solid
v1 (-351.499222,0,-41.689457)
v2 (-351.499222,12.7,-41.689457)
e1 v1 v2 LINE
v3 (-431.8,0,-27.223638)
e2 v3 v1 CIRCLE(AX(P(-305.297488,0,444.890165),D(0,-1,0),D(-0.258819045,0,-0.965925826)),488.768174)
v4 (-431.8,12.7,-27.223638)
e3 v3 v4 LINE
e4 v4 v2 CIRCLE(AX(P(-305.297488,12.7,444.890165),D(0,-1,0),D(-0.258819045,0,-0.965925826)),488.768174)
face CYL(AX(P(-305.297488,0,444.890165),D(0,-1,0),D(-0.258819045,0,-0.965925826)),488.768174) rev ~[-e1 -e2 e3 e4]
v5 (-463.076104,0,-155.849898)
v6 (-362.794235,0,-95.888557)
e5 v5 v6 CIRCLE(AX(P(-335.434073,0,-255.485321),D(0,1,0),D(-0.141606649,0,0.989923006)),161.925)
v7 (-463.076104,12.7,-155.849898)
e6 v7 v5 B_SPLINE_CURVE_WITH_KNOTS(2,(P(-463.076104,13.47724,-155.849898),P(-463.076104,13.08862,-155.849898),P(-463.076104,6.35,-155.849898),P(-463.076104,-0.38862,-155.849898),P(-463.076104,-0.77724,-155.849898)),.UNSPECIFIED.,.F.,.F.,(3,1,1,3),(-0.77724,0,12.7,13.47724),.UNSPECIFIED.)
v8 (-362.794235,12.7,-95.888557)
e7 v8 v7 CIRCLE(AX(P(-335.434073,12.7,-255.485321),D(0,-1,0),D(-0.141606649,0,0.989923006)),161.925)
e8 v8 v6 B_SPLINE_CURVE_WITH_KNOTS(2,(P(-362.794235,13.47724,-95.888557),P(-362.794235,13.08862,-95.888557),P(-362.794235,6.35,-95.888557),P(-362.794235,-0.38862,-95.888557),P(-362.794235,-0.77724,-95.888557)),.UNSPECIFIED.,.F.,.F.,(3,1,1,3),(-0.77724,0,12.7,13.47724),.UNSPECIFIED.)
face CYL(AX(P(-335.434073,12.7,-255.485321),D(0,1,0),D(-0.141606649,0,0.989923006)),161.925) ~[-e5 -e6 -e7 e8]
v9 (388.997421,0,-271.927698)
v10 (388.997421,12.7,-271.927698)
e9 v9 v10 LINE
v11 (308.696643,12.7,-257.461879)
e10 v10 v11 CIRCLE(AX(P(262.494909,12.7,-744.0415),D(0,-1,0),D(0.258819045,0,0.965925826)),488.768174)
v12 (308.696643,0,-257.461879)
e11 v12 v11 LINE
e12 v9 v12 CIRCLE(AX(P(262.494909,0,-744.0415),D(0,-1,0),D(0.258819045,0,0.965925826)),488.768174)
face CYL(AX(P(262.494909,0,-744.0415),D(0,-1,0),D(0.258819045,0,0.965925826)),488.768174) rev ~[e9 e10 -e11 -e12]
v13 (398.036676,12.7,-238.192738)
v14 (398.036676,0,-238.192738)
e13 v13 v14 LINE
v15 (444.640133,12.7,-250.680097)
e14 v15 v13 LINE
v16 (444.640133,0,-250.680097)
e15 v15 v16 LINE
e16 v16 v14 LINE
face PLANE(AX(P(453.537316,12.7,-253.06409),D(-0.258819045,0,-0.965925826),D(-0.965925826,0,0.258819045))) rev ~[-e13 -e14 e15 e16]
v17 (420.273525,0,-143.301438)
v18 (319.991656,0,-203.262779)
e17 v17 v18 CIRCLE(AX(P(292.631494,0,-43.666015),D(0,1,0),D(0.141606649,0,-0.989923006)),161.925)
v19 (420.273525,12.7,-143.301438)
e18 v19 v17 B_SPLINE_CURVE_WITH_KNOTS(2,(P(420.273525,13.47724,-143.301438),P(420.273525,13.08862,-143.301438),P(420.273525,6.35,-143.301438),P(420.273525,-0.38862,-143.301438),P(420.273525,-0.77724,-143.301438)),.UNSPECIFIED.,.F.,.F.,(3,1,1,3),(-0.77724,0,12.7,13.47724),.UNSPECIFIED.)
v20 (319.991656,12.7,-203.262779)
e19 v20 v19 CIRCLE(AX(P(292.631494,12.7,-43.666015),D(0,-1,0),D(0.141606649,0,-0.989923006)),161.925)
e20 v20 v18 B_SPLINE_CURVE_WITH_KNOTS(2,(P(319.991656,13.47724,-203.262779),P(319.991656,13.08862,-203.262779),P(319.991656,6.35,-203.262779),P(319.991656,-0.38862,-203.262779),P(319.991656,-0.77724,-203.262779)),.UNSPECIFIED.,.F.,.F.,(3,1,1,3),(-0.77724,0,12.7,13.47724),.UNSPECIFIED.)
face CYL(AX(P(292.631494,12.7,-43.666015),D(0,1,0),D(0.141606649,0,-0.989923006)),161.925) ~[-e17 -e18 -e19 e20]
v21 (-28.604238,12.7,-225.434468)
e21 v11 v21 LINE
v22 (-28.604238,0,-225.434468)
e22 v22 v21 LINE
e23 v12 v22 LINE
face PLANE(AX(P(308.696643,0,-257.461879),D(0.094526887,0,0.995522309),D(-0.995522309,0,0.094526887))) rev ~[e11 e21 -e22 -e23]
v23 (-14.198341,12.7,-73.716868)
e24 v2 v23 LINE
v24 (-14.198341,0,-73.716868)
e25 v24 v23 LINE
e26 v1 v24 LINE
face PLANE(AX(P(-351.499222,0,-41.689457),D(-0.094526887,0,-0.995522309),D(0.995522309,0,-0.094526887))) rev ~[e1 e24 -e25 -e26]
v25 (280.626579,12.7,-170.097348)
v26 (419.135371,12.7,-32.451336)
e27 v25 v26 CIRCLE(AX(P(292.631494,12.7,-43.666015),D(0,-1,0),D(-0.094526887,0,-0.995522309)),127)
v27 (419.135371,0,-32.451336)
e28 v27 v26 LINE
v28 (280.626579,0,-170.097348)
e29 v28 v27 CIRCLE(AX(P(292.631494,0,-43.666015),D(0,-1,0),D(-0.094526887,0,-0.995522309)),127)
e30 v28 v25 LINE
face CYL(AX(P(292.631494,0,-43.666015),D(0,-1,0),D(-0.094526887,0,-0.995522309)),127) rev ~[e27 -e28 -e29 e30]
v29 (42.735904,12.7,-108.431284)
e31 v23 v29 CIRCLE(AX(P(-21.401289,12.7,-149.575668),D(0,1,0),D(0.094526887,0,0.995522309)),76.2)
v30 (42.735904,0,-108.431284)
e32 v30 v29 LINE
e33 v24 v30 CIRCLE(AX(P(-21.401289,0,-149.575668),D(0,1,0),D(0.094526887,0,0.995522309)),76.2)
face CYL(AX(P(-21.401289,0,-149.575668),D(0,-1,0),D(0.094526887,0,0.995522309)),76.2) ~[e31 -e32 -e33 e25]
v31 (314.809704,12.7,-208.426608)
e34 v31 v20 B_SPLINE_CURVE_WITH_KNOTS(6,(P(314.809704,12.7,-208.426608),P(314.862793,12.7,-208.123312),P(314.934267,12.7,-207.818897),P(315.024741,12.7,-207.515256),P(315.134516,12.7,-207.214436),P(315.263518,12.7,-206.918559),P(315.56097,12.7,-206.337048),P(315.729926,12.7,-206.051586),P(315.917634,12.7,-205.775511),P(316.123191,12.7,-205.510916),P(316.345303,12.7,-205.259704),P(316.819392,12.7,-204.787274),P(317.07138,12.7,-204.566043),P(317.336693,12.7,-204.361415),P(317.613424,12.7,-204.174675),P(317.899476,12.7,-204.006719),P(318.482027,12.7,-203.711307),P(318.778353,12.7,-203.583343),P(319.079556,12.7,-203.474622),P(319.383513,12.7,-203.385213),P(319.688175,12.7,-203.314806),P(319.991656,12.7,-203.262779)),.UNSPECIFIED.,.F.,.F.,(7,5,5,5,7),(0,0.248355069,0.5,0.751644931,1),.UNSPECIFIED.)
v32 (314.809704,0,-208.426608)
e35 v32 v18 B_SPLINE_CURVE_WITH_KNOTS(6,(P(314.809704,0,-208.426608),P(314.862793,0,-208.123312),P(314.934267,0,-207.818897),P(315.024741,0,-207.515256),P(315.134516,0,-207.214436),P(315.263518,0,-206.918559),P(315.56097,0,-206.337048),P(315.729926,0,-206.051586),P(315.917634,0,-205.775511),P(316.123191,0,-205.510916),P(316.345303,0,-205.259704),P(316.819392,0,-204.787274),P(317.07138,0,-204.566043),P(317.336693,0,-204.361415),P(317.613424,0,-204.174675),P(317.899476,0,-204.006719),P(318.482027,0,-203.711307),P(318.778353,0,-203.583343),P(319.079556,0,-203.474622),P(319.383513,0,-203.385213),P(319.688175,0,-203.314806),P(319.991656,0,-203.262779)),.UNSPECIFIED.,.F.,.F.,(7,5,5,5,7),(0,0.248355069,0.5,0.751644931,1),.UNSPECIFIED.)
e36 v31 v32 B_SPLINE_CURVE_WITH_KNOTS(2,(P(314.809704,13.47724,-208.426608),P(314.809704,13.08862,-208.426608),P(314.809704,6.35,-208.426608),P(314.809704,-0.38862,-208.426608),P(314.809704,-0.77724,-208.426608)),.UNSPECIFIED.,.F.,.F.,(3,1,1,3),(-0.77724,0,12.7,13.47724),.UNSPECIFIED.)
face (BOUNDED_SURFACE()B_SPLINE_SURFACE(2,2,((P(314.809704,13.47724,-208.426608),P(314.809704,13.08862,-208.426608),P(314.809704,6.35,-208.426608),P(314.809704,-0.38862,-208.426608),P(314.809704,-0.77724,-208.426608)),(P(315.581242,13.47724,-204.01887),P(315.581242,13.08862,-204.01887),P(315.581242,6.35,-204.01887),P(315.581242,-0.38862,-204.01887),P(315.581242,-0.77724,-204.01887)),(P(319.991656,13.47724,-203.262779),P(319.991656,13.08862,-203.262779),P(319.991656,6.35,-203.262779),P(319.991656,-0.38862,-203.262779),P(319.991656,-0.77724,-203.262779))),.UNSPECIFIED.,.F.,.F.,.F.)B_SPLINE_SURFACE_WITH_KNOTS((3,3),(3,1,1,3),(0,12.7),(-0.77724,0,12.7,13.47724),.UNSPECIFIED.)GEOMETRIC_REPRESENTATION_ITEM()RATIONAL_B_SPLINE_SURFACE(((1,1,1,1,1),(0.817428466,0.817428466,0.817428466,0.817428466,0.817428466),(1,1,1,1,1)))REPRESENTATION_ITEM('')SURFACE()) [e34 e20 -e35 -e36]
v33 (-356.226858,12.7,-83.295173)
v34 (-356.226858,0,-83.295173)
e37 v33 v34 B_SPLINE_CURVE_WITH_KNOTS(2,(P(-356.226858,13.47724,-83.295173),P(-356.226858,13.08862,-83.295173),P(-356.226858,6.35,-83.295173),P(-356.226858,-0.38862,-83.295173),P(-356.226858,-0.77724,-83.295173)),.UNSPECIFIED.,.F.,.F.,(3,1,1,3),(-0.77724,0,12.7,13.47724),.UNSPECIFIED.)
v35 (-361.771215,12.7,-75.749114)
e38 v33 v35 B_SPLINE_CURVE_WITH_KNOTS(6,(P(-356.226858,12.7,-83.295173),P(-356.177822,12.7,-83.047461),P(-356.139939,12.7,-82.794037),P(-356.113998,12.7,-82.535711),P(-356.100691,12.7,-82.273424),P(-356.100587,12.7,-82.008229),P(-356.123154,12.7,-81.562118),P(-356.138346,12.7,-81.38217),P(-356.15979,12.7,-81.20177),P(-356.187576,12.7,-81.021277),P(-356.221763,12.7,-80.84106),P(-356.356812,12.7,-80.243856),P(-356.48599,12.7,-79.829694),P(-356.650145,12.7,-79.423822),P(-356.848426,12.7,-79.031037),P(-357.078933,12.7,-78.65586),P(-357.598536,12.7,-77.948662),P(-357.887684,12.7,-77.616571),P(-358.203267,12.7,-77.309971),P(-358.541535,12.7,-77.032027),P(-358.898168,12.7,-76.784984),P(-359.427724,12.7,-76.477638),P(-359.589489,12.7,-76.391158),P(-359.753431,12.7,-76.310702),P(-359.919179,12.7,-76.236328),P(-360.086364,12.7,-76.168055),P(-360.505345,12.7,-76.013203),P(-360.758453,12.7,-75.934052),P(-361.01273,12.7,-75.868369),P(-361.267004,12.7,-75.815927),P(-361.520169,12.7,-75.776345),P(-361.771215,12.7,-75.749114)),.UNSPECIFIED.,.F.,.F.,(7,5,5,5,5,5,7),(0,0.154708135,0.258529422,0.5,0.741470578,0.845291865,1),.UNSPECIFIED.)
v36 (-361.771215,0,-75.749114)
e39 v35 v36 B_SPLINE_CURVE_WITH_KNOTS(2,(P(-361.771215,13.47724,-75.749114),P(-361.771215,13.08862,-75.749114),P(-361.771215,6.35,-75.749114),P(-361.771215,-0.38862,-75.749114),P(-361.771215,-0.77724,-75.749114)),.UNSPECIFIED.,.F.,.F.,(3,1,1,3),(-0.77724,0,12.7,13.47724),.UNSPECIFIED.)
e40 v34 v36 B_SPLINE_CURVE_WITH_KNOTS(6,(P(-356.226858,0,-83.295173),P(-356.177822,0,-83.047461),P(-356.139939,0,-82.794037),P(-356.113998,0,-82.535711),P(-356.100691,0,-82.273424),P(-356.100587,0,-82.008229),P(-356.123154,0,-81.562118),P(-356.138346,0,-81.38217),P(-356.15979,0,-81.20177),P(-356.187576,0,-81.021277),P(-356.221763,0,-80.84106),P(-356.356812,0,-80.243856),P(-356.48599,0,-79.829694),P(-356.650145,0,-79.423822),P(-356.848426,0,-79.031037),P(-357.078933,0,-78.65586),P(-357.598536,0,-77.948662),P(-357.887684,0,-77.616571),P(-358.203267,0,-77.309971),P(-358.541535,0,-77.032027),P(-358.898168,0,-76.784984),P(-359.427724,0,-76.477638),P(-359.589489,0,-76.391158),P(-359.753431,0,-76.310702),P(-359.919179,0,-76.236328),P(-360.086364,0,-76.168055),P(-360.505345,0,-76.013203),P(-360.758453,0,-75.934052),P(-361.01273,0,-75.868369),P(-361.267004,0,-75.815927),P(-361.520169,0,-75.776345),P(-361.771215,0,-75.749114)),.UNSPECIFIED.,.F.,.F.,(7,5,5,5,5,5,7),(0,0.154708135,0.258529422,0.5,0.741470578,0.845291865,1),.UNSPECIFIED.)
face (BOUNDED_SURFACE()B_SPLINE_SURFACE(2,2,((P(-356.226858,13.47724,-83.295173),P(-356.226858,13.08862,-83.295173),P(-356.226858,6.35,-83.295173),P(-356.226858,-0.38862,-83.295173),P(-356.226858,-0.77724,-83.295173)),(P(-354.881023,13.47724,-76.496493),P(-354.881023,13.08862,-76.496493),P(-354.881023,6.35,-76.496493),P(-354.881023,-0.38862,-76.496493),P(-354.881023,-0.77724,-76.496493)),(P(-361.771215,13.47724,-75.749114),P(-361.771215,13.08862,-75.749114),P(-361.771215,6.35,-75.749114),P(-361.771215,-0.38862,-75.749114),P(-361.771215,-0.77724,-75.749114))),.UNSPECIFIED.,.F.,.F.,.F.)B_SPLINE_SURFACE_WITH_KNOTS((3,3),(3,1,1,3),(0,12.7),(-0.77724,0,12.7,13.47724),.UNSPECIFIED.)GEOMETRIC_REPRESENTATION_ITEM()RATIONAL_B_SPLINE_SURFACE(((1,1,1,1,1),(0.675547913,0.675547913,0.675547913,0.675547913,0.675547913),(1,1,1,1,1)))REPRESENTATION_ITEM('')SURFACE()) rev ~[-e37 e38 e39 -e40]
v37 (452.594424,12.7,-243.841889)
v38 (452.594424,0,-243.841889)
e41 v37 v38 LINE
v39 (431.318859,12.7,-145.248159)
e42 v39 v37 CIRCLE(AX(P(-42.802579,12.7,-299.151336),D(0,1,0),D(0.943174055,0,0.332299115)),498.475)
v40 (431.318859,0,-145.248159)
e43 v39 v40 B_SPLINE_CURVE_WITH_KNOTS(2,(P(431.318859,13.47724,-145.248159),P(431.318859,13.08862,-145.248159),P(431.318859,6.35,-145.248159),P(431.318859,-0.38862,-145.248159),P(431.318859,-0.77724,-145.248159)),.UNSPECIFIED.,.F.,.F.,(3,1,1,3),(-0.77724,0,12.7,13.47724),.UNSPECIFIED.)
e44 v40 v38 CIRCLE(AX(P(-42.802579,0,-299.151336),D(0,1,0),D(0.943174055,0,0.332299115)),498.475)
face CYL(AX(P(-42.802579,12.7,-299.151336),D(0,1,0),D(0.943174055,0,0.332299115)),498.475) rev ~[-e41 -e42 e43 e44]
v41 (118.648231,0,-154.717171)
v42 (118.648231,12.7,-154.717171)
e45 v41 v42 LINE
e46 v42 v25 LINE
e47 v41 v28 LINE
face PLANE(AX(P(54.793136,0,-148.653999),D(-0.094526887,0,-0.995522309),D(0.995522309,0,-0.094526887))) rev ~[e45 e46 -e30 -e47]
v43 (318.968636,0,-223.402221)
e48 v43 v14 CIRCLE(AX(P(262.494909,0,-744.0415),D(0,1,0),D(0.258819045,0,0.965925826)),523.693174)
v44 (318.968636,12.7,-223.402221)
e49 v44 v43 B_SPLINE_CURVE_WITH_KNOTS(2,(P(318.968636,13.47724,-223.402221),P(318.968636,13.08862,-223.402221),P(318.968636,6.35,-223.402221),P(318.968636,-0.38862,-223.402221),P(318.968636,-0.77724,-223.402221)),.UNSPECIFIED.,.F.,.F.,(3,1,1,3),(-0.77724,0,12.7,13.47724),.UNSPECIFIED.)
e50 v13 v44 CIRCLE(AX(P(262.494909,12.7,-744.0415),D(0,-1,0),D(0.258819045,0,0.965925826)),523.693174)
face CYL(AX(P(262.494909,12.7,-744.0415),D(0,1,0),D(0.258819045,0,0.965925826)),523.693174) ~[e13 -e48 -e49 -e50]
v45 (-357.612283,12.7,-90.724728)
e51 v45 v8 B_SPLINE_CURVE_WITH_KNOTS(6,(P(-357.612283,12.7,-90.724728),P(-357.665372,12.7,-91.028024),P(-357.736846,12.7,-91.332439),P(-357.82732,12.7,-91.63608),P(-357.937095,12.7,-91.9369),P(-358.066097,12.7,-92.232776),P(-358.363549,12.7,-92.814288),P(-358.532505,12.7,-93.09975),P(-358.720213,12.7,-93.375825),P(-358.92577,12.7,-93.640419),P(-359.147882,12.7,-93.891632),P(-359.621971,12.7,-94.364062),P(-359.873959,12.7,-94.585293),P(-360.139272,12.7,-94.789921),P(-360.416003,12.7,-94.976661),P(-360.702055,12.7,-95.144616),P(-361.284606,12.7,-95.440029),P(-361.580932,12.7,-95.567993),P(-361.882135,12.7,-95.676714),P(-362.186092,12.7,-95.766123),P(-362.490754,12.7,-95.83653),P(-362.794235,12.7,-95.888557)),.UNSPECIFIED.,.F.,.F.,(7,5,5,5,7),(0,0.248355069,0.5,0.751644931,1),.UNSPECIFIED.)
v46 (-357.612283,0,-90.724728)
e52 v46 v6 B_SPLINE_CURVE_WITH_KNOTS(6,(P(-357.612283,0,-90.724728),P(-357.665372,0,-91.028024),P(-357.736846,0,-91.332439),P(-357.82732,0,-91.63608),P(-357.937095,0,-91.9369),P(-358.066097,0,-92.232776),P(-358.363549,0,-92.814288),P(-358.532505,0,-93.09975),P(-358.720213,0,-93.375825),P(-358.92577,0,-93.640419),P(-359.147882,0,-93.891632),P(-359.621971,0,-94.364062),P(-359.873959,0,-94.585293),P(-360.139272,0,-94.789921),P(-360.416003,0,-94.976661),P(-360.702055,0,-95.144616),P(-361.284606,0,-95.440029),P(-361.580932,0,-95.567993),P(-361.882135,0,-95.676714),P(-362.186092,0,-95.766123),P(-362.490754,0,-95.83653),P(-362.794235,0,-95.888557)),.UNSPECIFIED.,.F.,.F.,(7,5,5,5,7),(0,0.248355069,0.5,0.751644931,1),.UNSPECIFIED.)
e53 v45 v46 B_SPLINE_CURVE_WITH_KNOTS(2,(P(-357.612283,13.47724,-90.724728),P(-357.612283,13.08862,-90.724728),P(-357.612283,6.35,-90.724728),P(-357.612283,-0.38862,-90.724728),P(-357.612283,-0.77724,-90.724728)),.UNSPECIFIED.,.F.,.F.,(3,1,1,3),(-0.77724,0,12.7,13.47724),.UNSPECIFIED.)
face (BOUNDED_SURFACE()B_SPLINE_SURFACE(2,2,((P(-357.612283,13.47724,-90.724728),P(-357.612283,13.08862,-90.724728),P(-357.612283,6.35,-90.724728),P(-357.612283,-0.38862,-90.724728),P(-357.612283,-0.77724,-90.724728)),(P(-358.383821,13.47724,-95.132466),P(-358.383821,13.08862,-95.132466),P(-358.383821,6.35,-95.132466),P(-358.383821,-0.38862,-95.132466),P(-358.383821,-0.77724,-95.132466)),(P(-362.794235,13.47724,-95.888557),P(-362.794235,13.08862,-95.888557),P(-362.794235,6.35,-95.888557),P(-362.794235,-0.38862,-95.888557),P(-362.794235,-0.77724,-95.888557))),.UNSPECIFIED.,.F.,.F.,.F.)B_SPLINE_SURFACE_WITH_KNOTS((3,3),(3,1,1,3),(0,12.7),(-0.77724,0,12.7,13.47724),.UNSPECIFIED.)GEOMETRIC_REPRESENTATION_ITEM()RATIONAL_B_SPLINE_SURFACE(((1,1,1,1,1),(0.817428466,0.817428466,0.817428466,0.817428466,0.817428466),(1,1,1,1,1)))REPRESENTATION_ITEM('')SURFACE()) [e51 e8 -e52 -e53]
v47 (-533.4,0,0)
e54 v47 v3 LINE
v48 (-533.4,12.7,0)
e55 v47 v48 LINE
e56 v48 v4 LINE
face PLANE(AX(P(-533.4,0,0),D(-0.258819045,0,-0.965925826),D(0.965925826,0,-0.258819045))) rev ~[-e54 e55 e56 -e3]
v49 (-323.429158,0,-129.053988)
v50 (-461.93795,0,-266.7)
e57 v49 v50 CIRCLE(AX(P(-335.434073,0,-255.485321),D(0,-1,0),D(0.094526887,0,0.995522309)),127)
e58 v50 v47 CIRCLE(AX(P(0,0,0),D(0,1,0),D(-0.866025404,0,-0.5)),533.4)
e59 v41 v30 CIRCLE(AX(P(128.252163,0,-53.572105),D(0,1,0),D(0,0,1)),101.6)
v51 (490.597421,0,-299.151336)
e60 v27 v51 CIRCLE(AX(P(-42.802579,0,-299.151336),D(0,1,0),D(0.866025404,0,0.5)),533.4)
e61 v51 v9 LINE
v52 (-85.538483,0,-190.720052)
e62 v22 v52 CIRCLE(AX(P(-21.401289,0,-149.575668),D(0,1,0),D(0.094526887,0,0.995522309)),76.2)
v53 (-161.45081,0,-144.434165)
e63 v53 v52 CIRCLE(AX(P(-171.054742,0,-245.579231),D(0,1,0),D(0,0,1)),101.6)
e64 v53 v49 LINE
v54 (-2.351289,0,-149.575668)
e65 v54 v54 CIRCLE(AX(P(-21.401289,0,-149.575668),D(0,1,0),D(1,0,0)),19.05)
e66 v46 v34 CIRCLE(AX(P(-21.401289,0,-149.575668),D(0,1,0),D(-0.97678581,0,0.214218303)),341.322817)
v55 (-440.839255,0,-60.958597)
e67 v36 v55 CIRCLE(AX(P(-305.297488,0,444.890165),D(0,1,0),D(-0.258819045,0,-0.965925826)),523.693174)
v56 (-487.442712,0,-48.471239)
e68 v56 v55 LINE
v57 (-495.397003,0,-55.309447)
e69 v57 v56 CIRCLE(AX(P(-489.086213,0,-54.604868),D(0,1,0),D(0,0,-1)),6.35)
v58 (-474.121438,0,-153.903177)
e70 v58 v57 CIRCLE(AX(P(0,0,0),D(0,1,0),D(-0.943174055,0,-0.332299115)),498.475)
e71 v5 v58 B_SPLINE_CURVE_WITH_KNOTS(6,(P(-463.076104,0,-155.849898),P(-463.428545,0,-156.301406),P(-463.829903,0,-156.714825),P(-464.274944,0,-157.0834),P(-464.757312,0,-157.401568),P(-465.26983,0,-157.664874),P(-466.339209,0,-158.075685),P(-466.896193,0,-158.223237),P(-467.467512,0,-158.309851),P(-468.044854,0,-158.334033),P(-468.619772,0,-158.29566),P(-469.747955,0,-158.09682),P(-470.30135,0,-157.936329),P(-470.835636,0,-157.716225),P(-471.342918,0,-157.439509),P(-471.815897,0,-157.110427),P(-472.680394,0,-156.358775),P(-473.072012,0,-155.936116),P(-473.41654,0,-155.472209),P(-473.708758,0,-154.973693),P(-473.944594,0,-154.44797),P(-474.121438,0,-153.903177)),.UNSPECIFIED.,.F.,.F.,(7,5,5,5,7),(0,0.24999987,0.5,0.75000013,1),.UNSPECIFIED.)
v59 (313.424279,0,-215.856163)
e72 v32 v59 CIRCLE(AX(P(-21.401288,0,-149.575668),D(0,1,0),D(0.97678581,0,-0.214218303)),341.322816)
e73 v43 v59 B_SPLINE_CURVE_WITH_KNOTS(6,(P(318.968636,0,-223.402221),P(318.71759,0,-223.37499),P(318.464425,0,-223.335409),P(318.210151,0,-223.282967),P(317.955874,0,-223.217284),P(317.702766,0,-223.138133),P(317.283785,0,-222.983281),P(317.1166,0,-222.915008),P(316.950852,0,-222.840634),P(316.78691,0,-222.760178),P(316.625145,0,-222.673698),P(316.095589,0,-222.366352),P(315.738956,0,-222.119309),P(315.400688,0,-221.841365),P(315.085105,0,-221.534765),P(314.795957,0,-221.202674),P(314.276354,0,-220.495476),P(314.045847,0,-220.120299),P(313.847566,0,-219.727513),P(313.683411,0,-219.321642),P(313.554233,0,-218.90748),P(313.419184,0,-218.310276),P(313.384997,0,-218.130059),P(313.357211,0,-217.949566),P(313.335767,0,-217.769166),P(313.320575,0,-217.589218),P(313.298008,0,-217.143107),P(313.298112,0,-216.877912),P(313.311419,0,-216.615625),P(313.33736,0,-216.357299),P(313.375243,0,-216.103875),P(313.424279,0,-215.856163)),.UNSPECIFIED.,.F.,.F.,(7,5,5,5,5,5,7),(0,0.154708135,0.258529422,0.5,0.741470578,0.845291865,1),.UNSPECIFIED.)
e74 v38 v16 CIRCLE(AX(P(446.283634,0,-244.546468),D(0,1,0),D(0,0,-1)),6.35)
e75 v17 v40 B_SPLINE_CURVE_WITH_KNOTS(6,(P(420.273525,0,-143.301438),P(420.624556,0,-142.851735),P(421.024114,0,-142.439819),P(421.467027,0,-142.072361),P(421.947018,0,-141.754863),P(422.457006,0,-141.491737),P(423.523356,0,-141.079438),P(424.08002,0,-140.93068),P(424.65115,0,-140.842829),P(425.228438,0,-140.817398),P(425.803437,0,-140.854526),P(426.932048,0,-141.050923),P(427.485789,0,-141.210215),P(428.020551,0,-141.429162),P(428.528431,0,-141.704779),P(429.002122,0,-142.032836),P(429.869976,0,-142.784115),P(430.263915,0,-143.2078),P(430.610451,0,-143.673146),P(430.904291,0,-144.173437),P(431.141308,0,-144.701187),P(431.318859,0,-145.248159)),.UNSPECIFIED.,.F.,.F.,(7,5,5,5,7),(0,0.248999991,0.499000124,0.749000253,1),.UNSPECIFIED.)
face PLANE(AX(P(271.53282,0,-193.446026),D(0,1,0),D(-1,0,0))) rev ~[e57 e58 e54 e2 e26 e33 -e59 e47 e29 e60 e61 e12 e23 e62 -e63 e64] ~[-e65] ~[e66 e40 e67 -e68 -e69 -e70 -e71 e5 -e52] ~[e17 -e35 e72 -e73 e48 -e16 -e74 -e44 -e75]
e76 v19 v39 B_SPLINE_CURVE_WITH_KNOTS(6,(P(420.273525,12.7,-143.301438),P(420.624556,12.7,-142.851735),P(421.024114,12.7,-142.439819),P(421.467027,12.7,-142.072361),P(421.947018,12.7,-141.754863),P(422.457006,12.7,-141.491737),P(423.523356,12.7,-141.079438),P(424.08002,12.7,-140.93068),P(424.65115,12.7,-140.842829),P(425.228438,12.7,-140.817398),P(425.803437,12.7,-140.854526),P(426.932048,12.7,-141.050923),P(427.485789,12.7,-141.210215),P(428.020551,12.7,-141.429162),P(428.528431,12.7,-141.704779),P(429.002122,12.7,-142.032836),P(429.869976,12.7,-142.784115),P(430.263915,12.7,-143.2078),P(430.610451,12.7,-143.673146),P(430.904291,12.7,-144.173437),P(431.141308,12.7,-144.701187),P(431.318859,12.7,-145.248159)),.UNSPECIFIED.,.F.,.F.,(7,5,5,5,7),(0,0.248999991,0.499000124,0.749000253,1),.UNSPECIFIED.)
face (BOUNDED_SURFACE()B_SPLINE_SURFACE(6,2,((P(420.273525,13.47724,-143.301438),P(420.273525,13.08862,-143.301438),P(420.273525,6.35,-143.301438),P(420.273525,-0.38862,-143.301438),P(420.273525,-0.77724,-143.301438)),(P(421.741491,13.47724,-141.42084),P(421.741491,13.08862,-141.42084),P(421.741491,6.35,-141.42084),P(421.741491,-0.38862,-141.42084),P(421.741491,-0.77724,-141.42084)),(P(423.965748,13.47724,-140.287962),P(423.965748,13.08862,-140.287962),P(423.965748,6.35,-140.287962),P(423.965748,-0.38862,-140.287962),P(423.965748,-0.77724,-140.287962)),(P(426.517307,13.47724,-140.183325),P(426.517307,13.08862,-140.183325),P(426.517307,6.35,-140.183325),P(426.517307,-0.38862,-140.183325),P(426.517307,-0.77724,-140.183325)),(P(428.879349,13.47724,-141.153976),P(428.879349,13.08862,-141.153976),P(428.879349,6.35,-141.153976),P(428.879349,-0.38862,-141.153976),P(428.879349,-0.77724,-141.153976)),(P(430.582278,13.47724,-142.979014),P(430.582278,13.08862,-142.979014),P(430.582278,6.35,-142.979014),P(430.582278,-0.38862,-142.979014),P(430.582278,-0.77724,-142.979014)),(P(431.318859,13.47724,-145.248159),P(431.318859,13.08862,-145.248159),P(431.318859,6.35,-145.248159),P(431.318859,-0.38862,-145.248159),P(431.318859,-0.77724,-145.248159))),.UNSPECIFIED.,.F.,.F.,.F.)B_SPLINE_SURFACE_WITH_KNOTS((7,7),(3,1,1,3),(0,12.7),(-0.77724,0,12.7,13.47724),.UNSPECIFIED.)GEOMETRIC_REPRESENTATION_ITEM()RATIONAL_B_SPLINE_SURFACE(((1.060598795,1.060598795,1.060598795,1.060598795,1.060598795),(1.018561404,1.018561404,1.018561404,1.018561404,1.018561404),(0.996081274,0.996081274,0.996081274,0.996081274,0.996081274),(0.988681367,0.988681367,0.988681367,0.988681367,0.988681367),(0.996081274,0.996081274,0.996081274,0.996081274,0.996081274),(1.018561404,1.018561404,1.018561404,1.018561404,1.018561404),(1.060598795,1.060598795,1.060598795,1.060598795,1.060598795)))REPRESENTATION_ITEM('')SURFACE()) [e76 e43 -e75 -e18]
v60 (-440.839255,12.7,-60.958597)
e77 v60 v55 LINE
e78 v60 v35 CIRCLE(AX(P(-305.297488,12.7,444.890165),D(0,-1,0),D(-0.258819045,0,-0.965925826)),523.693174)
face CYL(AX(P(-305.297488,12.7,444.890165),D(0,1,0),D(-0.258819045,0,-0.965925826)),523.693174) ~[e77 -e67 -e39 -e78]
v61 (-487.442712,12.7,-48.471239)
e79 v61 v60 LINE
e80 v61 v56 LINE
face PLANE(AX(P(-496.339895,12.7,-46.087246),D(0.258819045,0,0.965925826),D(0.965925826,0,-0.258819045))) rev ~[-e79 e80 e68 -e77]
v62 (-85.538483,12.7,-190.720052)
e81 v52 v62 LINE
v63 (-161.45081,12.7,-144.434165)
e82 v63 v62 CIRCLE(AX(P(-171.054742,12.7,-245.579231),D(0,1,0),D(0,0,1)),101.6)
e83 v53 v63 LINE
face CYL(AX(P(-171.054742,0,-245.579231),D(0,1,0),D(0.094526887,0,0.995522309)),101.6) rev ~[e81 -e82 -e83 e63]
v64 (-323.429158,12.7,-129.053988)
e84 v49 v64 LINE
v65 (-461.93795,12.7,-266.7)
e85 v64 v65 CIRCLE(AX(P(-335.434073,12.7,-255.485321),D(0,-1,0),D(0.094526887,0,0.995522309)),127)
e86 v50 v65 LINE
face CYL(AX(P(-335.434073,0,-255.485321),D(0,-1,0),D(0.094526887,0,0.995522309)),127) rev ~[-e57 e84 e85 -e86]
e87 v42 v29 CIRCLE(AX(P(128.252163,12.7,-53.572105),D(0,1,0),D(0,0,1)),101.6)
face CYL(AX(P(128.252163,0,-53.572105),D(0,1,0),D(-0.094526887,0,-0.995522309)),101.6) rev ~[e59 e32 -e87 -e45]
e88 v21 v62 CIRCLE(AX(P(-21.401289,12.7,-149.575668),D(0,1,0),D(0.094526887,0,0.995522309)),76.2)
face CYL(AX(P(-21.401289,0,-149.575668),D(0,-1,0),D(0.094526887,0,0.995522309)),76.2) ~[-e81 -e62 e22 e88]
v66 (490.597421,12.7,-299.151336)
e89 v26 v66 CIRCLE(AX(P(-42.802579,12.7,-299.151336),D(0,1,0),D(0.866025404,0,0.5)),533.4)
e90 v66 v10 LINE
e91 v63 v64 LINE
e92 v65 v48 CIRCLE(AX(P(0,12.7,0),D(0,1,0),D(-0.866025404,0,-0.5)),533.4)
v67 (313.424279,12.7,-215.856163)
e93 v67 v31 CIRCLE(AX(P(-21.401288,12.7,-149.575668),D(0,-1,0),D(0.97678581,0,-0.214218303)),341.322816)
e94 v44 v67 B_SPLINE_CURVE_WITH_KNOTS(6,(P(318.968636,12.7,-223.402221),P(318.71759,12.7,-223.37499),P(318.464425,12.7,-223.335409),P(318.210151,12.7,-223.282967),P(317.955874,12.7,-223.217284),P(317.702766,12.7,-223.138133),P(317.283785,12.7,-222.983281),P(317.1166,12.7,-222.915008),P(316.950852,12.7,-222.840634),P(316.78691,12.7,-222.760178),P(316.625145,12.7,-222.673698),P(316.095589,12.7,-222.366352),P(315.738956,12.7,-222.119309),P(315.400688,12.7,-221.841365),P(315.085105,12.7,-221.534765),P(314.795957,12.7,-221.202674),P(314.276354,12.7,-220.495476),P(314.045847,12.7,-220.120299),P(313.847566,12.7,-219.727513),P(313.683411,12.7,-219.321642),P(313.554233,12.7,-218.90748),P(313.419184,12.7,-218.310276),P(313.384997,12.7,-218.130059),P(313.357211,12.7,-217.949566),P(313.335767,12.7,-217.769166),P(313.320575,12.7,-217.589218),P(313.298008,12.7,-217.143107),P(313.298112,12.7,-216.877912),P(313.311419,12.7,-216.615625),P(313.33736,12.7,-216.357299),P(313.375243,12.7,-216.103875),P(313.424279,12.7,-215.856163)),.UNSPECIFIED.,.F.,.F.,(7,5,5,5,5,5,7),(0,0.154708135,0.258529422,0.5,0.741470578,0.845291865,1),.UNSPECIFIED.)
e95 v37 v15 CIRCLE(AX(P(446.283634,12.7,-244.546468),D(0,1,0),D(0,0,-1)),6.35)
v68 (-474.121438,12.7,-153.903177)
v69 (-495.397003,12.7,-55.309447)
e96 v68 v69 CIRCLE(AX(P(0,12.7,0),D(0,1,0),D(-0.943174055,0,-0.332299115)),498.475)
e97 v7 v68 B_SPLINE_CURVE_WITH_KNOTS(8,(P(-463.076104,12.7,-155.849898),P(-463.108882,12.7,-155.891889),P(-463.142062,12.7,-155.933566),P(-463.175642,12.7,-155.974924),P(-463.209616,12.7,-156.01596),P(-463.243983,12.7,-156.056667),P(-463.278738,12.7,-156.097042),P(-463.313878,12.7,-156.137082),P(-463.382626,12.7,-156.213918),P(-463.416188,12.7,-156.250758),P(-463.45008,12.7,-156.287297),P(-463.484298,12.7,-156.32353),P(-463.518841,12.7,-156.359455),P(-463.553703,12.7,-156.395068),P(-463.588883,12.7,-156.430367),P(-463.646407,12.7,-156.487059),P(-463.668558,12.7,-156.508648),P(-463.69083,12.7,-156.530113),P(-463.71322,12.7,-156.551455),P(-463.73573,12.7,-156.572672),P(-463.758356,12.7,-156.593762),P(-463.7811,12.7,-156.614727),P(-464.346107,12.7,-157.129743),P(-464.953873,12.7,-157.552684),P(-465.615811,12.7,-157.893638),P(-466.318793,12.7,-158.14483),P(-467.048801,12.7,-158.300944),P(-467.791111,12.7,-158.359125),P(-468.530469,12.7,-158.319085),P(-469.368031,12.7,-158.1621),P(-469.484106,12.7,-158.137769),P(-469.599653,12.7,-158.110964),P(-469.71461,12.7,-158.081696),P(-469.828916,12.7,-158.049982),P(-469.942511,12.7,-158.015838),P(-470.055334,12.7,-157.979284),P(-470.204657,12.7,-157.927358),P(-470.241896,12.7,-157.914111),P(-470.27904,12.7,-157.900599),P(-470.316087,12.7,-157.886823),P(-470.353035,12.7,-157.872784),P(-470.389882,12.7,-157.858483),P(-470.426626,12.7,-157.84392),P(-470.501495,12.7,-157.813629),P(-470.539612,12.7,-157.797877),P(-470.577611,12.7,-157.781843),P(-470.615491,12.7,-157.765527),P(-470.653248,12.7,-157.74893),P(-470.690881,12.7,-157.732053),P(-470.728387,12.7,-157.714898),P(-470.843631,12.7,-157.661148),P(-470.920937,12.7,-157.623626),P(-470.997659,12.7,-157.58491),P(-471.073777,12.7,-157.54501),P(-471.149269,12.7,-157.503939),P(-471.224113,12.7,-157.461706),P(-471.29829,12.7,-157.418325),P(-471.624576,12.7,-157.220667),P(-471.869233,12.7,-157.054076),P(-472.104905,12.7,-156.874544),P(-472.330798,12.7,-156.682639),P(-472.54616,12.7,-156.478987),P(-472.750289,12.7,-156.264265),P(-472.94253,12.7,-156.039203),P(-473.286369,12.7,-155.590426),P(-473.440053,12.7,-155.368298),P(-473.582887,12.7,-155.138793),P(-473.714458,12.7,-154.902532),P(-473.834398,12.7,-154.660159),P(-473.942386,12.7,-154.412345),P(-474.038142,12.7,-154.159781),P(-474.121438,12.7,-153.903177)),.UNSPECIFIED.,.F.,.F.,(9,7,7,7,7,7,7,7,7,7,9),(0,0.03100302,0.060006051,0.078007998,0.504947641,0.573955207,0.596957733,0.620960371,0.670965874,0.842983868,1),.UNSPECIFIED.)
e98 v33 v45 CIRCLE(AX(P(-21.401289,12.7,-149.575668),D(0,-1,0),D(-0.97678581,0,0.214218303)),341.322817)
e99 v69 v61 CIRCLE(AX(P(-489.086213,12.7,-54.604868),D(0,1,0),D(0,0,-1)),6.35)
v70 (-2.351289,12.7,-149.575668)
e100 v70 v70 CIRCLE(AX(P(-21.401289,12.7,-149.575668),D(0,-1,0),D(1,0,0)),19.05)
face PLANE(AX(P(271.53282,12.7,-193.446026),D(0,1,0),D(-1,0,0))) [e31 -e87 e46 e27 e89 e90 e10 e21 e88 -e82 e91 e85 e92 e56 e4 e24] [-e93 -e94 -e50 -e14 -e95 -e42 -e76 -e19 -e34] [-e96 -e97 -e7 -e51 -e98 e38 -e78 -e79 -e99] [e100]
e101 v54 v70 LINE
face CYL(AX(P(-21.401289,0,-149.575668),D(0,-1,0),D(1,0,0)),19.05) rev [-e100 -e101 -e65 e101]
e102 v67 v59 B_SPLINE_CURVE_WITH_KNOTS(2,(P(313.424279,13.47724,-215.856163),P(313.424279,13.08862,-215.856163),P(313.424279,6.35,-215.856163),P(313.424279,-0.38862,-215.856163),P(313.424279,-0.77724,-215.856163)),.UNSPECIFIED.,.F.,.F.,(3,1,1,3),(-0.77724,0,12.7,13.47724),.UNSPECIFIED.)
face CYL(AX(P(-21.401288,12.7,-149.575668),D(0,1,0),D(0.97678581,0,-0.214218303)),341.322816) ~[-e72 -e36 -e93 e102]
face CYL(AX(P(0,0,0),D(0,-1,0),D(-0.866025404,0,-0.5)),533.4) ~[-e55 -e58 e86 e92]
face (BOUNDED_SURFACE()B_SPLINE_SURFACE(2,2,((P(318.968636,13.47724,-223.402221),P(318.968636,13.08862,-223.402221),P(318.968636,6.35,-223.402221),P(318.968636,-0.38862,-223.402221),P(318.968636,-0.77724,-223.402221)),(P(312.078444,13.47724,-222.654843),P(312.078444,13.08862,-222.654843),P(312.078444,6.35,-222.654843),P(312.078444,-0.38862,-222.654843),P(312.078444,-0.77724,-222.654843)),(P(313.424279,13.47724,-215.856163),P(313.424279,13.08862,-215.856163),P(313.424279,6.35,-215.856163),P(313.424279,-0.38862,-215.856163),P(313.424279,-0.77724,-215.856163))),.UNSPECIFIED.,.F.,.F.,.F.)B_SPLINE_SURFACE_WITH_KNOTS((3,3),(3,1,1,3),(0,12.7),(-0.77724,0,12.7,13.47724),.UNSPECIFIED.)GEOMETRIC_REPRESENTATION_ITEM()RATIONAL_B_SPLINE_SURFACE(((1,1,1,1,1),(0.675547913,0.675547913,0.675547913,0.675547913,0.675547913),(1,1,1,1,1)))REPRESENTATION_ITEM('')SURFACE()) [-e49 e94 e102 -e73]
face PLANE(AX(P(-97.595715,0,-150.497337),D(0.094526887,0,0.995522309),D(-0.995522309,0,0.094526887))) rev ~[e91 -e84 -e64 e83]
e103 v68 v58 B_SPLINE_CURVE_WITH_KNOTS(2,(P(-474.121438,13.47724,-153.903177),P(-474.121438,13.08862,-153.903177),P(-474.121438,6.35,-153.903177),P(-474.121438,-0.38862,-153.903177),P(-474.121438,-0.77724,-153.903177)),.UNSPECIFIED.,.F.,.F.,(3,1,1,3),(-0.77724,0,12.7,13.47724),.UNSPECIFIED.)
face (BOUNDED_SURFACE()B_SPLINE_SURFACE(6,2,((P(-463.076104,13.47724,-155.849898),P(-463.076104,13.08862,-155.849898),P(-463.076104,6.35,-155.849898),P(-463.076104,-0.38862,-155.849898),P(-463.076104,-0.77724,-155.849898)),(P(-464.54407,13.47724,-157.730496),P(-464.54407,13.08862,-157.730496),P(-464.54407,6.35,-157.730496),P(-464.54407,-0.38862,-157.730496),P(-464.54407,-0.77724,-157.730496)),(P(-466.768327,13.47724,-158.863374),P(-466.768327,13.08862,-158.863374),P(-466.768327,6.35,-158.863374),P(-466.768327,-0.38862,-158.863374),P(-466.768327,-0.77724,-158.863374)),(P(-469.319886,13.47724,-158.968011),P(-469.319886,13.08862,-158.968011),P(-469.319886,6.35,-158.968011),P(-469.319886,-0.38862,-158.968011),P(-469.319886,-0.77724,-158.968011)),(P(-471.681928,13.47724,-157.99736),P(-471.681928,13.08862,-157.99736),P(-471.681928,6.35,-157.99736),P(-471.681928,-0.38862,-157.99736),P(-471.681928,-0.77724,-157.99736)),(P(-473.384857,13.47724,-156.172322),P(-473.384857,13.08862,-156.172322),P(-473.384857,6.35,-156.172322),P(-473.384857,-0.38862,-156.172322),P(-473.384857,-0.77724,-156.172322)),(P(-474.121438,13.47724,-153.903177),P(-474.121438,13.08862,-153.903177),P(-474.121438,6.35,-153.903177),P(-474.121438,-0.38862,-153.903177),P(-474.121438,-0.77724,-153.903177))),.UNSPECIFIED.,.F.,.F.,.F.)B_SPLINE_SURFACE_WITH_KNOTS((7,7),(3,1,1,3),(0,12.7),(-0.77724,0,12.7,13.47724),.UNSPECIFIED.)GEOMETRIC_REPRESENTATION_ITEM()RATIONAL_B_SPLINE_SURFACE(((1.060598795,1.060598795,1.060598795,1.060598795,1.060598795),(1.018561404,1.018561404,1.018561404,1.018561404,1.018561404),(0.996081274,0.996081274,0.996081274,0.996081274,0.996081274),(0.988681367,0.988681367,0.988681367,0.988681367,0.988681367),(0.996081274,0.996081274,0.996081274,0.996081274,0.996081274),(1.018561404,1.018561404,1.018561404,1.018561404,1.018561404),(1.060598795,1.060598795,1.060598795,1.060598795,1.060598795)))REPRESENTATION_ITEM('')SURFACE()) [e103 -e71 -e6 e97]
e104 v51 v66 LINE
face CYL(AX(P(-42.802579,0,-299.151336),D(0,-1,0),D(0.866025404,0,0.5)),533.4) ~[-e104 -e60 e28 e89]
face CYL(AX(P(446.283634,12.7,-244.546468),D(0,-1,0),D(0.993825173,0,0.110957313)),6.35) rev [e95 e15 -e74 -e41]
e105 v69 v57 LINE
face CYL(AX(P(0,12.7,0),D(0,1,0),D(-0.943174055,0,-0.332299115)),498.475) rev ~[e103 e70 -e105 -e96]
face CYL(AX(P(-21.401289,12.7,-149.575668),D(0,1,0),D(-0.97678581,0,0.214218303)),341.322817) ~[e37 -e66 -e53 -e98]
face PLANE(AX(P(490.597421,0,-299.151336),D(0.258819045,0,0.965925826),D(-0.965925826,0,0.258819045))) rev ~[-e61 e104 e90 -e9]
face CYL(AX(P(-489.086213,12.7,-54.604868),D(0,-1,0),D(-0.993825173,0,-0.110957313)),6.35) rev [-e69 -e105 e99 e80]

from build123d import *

# Parameters (mm, degrees)
SKETCH1_R           = 76.2
SKETCH1_R_2         = 19.05
BOSS_EXTRUDE1_DEPTH = 12.7
CIRPATTERN1_COUNT   = 2
FILLET1_R           = 101.6
CUT_EXTRUDE2_DEPTH  = 13.7
FILLET2_R           = 6.35


with BuildPart() as part:
    # Sketch1 → Boss-Extrude1 (new body)
    with BuildSketch(Plane(origin=(0, 0, 0), x_dir=(1, 0, 0), z_dir=(0, 1, 0))):
        with BuildLine():
            ThreePointArc((-461.937950379, 266.7), (-515.224835743, 138.054078658), (-533.4, 0))
            Line((-533.4, 0), (-431.8, 27.223637951))
            ThreePointArc((-431.8, 27.223637951), (-391.951998133, 36.135119544), (-351.499222019, 41.689456733))
            Line((-351.499222019, 41.689456733), (-14.198340678, 73.716868009))
            ThreePointArc((-14.198340678, 73.716868009), (-73.012974959, 93.516111014), (-97.595715318, 150.497336919))
            Line((-97.595715318, 150.497336919), (-323.429158368, 129.053987789))
            ThreePointArc((-323.429158368, 129.053987789), (-424.955630689, 165.402632783), (-461.937950379, 266.7))
        make_face()
        with Locations((-21.401289496, 149.575667949)):
            Circle(SKETCH1_R)
        with Locations((-21.401289496, 149.575667949)):
            Circle(SKETCH1_R_2, mode=Mode.SUBTRACT)
    boss_extrude1 = extrude(amount=BOSS_EXTRUDE1_DEPTH)

    # CirPattern1: Boss-Extrude1 ×2 about axis
    cirpattern1_axis = Axis((-21.401289496, 0, -149.575667949), (0, 1, 0))
    for i in range(1, CIRPATTERN1_COUNT):
        add(boss_extrude1.rotate(cirpattern1_axis, i * 360 / CIRPATTERN1_COUNT))

    # Fillet1
    fillet1_edges = [part.edges().sort_by_distance(p)[0] for p in [
        (-97.595715318, 6.35, -150.497336919),
        (54.793136326, 6.35, -148.653998979),
    ]]
    fillet(fillet1_edges, radius=FILLET1_R)

    # Sketch3 → Cut-Extrude2 (cut, through all)
    with BuildSketch(Plane(origin=(0, 12.7, 0), x_dir=(1, 0, 0), z_dir=(0, 1, 0))):
        with BuildLine():
            ThreePointArc((-354.80057356, 76.458073372), (-356.713011165, 85.800166676), (-358.363729661, 95.192038339))
            ThreePointArc((-358.363729661, 95.192038339), (-421.769213749, 118.496456117), (-470.148687166, 165.642801175))
            ThreePointArc((-470.148687166, 165.642801175), (-486.927538331, 106.671917768), (-496.339895031, 46.087245799))
            Line((-496.339895031, 46.087245799), (-440.83925515, 60.958597434))
            ThreePointArc((-440.83925515, 60.958597434), (-398.143908594, 70.506850222), (-354.80057356, 76.458073372))
        make_face()
        with BuildLine():
            ThreePointArc((398.036676158, 238.192738464), (355.341329602, 228.644485675), (311.997994568, 222.693262526))
            ThreePointArc((311.997994568, 222.693262526), (313.910432173, 213.351169222), (315.561150668, 203.959297559))
            ThreePointArc((315.561150668, 203.959297559), (378.966634757, 180.654879781), (427.346108174, 133.508534723))
            ThreePointArc((427.346108174, 133.508534723), (444.124959338, 192.47941813), (453.537316039, 253.064090099))
            Line((453.537316039, 253.064090099), (398.036676158, 238.192738464))
        make_face()
    extrude(amount=-CUT_EXTRUDE2_DEPTH, mode=Mode.SUBTRACT)

    # Fillet2
    fillet2_edges = [part.edges().sort_by_distance(p)[0] for p in [
        (-354.80057356, 6.35, -76.458073372),
        (-496.339895031, 6.35, -46.087245799),
        (-470.148687166, 6.35, -165.642801175),
        (-358.363729661, 6.35, -95.192038339),
        (311.997994568, 6.35, -222.693262526),
        (453.537316039, 6.35, -253.064090099),
        (427.346108174, 6.35, -133.508534723),
        (315.561150668, 6.35, -203.959297559),
    ]]
    fillet(fillet2_edges, radius=FILLET2_R)


solid = part.part
